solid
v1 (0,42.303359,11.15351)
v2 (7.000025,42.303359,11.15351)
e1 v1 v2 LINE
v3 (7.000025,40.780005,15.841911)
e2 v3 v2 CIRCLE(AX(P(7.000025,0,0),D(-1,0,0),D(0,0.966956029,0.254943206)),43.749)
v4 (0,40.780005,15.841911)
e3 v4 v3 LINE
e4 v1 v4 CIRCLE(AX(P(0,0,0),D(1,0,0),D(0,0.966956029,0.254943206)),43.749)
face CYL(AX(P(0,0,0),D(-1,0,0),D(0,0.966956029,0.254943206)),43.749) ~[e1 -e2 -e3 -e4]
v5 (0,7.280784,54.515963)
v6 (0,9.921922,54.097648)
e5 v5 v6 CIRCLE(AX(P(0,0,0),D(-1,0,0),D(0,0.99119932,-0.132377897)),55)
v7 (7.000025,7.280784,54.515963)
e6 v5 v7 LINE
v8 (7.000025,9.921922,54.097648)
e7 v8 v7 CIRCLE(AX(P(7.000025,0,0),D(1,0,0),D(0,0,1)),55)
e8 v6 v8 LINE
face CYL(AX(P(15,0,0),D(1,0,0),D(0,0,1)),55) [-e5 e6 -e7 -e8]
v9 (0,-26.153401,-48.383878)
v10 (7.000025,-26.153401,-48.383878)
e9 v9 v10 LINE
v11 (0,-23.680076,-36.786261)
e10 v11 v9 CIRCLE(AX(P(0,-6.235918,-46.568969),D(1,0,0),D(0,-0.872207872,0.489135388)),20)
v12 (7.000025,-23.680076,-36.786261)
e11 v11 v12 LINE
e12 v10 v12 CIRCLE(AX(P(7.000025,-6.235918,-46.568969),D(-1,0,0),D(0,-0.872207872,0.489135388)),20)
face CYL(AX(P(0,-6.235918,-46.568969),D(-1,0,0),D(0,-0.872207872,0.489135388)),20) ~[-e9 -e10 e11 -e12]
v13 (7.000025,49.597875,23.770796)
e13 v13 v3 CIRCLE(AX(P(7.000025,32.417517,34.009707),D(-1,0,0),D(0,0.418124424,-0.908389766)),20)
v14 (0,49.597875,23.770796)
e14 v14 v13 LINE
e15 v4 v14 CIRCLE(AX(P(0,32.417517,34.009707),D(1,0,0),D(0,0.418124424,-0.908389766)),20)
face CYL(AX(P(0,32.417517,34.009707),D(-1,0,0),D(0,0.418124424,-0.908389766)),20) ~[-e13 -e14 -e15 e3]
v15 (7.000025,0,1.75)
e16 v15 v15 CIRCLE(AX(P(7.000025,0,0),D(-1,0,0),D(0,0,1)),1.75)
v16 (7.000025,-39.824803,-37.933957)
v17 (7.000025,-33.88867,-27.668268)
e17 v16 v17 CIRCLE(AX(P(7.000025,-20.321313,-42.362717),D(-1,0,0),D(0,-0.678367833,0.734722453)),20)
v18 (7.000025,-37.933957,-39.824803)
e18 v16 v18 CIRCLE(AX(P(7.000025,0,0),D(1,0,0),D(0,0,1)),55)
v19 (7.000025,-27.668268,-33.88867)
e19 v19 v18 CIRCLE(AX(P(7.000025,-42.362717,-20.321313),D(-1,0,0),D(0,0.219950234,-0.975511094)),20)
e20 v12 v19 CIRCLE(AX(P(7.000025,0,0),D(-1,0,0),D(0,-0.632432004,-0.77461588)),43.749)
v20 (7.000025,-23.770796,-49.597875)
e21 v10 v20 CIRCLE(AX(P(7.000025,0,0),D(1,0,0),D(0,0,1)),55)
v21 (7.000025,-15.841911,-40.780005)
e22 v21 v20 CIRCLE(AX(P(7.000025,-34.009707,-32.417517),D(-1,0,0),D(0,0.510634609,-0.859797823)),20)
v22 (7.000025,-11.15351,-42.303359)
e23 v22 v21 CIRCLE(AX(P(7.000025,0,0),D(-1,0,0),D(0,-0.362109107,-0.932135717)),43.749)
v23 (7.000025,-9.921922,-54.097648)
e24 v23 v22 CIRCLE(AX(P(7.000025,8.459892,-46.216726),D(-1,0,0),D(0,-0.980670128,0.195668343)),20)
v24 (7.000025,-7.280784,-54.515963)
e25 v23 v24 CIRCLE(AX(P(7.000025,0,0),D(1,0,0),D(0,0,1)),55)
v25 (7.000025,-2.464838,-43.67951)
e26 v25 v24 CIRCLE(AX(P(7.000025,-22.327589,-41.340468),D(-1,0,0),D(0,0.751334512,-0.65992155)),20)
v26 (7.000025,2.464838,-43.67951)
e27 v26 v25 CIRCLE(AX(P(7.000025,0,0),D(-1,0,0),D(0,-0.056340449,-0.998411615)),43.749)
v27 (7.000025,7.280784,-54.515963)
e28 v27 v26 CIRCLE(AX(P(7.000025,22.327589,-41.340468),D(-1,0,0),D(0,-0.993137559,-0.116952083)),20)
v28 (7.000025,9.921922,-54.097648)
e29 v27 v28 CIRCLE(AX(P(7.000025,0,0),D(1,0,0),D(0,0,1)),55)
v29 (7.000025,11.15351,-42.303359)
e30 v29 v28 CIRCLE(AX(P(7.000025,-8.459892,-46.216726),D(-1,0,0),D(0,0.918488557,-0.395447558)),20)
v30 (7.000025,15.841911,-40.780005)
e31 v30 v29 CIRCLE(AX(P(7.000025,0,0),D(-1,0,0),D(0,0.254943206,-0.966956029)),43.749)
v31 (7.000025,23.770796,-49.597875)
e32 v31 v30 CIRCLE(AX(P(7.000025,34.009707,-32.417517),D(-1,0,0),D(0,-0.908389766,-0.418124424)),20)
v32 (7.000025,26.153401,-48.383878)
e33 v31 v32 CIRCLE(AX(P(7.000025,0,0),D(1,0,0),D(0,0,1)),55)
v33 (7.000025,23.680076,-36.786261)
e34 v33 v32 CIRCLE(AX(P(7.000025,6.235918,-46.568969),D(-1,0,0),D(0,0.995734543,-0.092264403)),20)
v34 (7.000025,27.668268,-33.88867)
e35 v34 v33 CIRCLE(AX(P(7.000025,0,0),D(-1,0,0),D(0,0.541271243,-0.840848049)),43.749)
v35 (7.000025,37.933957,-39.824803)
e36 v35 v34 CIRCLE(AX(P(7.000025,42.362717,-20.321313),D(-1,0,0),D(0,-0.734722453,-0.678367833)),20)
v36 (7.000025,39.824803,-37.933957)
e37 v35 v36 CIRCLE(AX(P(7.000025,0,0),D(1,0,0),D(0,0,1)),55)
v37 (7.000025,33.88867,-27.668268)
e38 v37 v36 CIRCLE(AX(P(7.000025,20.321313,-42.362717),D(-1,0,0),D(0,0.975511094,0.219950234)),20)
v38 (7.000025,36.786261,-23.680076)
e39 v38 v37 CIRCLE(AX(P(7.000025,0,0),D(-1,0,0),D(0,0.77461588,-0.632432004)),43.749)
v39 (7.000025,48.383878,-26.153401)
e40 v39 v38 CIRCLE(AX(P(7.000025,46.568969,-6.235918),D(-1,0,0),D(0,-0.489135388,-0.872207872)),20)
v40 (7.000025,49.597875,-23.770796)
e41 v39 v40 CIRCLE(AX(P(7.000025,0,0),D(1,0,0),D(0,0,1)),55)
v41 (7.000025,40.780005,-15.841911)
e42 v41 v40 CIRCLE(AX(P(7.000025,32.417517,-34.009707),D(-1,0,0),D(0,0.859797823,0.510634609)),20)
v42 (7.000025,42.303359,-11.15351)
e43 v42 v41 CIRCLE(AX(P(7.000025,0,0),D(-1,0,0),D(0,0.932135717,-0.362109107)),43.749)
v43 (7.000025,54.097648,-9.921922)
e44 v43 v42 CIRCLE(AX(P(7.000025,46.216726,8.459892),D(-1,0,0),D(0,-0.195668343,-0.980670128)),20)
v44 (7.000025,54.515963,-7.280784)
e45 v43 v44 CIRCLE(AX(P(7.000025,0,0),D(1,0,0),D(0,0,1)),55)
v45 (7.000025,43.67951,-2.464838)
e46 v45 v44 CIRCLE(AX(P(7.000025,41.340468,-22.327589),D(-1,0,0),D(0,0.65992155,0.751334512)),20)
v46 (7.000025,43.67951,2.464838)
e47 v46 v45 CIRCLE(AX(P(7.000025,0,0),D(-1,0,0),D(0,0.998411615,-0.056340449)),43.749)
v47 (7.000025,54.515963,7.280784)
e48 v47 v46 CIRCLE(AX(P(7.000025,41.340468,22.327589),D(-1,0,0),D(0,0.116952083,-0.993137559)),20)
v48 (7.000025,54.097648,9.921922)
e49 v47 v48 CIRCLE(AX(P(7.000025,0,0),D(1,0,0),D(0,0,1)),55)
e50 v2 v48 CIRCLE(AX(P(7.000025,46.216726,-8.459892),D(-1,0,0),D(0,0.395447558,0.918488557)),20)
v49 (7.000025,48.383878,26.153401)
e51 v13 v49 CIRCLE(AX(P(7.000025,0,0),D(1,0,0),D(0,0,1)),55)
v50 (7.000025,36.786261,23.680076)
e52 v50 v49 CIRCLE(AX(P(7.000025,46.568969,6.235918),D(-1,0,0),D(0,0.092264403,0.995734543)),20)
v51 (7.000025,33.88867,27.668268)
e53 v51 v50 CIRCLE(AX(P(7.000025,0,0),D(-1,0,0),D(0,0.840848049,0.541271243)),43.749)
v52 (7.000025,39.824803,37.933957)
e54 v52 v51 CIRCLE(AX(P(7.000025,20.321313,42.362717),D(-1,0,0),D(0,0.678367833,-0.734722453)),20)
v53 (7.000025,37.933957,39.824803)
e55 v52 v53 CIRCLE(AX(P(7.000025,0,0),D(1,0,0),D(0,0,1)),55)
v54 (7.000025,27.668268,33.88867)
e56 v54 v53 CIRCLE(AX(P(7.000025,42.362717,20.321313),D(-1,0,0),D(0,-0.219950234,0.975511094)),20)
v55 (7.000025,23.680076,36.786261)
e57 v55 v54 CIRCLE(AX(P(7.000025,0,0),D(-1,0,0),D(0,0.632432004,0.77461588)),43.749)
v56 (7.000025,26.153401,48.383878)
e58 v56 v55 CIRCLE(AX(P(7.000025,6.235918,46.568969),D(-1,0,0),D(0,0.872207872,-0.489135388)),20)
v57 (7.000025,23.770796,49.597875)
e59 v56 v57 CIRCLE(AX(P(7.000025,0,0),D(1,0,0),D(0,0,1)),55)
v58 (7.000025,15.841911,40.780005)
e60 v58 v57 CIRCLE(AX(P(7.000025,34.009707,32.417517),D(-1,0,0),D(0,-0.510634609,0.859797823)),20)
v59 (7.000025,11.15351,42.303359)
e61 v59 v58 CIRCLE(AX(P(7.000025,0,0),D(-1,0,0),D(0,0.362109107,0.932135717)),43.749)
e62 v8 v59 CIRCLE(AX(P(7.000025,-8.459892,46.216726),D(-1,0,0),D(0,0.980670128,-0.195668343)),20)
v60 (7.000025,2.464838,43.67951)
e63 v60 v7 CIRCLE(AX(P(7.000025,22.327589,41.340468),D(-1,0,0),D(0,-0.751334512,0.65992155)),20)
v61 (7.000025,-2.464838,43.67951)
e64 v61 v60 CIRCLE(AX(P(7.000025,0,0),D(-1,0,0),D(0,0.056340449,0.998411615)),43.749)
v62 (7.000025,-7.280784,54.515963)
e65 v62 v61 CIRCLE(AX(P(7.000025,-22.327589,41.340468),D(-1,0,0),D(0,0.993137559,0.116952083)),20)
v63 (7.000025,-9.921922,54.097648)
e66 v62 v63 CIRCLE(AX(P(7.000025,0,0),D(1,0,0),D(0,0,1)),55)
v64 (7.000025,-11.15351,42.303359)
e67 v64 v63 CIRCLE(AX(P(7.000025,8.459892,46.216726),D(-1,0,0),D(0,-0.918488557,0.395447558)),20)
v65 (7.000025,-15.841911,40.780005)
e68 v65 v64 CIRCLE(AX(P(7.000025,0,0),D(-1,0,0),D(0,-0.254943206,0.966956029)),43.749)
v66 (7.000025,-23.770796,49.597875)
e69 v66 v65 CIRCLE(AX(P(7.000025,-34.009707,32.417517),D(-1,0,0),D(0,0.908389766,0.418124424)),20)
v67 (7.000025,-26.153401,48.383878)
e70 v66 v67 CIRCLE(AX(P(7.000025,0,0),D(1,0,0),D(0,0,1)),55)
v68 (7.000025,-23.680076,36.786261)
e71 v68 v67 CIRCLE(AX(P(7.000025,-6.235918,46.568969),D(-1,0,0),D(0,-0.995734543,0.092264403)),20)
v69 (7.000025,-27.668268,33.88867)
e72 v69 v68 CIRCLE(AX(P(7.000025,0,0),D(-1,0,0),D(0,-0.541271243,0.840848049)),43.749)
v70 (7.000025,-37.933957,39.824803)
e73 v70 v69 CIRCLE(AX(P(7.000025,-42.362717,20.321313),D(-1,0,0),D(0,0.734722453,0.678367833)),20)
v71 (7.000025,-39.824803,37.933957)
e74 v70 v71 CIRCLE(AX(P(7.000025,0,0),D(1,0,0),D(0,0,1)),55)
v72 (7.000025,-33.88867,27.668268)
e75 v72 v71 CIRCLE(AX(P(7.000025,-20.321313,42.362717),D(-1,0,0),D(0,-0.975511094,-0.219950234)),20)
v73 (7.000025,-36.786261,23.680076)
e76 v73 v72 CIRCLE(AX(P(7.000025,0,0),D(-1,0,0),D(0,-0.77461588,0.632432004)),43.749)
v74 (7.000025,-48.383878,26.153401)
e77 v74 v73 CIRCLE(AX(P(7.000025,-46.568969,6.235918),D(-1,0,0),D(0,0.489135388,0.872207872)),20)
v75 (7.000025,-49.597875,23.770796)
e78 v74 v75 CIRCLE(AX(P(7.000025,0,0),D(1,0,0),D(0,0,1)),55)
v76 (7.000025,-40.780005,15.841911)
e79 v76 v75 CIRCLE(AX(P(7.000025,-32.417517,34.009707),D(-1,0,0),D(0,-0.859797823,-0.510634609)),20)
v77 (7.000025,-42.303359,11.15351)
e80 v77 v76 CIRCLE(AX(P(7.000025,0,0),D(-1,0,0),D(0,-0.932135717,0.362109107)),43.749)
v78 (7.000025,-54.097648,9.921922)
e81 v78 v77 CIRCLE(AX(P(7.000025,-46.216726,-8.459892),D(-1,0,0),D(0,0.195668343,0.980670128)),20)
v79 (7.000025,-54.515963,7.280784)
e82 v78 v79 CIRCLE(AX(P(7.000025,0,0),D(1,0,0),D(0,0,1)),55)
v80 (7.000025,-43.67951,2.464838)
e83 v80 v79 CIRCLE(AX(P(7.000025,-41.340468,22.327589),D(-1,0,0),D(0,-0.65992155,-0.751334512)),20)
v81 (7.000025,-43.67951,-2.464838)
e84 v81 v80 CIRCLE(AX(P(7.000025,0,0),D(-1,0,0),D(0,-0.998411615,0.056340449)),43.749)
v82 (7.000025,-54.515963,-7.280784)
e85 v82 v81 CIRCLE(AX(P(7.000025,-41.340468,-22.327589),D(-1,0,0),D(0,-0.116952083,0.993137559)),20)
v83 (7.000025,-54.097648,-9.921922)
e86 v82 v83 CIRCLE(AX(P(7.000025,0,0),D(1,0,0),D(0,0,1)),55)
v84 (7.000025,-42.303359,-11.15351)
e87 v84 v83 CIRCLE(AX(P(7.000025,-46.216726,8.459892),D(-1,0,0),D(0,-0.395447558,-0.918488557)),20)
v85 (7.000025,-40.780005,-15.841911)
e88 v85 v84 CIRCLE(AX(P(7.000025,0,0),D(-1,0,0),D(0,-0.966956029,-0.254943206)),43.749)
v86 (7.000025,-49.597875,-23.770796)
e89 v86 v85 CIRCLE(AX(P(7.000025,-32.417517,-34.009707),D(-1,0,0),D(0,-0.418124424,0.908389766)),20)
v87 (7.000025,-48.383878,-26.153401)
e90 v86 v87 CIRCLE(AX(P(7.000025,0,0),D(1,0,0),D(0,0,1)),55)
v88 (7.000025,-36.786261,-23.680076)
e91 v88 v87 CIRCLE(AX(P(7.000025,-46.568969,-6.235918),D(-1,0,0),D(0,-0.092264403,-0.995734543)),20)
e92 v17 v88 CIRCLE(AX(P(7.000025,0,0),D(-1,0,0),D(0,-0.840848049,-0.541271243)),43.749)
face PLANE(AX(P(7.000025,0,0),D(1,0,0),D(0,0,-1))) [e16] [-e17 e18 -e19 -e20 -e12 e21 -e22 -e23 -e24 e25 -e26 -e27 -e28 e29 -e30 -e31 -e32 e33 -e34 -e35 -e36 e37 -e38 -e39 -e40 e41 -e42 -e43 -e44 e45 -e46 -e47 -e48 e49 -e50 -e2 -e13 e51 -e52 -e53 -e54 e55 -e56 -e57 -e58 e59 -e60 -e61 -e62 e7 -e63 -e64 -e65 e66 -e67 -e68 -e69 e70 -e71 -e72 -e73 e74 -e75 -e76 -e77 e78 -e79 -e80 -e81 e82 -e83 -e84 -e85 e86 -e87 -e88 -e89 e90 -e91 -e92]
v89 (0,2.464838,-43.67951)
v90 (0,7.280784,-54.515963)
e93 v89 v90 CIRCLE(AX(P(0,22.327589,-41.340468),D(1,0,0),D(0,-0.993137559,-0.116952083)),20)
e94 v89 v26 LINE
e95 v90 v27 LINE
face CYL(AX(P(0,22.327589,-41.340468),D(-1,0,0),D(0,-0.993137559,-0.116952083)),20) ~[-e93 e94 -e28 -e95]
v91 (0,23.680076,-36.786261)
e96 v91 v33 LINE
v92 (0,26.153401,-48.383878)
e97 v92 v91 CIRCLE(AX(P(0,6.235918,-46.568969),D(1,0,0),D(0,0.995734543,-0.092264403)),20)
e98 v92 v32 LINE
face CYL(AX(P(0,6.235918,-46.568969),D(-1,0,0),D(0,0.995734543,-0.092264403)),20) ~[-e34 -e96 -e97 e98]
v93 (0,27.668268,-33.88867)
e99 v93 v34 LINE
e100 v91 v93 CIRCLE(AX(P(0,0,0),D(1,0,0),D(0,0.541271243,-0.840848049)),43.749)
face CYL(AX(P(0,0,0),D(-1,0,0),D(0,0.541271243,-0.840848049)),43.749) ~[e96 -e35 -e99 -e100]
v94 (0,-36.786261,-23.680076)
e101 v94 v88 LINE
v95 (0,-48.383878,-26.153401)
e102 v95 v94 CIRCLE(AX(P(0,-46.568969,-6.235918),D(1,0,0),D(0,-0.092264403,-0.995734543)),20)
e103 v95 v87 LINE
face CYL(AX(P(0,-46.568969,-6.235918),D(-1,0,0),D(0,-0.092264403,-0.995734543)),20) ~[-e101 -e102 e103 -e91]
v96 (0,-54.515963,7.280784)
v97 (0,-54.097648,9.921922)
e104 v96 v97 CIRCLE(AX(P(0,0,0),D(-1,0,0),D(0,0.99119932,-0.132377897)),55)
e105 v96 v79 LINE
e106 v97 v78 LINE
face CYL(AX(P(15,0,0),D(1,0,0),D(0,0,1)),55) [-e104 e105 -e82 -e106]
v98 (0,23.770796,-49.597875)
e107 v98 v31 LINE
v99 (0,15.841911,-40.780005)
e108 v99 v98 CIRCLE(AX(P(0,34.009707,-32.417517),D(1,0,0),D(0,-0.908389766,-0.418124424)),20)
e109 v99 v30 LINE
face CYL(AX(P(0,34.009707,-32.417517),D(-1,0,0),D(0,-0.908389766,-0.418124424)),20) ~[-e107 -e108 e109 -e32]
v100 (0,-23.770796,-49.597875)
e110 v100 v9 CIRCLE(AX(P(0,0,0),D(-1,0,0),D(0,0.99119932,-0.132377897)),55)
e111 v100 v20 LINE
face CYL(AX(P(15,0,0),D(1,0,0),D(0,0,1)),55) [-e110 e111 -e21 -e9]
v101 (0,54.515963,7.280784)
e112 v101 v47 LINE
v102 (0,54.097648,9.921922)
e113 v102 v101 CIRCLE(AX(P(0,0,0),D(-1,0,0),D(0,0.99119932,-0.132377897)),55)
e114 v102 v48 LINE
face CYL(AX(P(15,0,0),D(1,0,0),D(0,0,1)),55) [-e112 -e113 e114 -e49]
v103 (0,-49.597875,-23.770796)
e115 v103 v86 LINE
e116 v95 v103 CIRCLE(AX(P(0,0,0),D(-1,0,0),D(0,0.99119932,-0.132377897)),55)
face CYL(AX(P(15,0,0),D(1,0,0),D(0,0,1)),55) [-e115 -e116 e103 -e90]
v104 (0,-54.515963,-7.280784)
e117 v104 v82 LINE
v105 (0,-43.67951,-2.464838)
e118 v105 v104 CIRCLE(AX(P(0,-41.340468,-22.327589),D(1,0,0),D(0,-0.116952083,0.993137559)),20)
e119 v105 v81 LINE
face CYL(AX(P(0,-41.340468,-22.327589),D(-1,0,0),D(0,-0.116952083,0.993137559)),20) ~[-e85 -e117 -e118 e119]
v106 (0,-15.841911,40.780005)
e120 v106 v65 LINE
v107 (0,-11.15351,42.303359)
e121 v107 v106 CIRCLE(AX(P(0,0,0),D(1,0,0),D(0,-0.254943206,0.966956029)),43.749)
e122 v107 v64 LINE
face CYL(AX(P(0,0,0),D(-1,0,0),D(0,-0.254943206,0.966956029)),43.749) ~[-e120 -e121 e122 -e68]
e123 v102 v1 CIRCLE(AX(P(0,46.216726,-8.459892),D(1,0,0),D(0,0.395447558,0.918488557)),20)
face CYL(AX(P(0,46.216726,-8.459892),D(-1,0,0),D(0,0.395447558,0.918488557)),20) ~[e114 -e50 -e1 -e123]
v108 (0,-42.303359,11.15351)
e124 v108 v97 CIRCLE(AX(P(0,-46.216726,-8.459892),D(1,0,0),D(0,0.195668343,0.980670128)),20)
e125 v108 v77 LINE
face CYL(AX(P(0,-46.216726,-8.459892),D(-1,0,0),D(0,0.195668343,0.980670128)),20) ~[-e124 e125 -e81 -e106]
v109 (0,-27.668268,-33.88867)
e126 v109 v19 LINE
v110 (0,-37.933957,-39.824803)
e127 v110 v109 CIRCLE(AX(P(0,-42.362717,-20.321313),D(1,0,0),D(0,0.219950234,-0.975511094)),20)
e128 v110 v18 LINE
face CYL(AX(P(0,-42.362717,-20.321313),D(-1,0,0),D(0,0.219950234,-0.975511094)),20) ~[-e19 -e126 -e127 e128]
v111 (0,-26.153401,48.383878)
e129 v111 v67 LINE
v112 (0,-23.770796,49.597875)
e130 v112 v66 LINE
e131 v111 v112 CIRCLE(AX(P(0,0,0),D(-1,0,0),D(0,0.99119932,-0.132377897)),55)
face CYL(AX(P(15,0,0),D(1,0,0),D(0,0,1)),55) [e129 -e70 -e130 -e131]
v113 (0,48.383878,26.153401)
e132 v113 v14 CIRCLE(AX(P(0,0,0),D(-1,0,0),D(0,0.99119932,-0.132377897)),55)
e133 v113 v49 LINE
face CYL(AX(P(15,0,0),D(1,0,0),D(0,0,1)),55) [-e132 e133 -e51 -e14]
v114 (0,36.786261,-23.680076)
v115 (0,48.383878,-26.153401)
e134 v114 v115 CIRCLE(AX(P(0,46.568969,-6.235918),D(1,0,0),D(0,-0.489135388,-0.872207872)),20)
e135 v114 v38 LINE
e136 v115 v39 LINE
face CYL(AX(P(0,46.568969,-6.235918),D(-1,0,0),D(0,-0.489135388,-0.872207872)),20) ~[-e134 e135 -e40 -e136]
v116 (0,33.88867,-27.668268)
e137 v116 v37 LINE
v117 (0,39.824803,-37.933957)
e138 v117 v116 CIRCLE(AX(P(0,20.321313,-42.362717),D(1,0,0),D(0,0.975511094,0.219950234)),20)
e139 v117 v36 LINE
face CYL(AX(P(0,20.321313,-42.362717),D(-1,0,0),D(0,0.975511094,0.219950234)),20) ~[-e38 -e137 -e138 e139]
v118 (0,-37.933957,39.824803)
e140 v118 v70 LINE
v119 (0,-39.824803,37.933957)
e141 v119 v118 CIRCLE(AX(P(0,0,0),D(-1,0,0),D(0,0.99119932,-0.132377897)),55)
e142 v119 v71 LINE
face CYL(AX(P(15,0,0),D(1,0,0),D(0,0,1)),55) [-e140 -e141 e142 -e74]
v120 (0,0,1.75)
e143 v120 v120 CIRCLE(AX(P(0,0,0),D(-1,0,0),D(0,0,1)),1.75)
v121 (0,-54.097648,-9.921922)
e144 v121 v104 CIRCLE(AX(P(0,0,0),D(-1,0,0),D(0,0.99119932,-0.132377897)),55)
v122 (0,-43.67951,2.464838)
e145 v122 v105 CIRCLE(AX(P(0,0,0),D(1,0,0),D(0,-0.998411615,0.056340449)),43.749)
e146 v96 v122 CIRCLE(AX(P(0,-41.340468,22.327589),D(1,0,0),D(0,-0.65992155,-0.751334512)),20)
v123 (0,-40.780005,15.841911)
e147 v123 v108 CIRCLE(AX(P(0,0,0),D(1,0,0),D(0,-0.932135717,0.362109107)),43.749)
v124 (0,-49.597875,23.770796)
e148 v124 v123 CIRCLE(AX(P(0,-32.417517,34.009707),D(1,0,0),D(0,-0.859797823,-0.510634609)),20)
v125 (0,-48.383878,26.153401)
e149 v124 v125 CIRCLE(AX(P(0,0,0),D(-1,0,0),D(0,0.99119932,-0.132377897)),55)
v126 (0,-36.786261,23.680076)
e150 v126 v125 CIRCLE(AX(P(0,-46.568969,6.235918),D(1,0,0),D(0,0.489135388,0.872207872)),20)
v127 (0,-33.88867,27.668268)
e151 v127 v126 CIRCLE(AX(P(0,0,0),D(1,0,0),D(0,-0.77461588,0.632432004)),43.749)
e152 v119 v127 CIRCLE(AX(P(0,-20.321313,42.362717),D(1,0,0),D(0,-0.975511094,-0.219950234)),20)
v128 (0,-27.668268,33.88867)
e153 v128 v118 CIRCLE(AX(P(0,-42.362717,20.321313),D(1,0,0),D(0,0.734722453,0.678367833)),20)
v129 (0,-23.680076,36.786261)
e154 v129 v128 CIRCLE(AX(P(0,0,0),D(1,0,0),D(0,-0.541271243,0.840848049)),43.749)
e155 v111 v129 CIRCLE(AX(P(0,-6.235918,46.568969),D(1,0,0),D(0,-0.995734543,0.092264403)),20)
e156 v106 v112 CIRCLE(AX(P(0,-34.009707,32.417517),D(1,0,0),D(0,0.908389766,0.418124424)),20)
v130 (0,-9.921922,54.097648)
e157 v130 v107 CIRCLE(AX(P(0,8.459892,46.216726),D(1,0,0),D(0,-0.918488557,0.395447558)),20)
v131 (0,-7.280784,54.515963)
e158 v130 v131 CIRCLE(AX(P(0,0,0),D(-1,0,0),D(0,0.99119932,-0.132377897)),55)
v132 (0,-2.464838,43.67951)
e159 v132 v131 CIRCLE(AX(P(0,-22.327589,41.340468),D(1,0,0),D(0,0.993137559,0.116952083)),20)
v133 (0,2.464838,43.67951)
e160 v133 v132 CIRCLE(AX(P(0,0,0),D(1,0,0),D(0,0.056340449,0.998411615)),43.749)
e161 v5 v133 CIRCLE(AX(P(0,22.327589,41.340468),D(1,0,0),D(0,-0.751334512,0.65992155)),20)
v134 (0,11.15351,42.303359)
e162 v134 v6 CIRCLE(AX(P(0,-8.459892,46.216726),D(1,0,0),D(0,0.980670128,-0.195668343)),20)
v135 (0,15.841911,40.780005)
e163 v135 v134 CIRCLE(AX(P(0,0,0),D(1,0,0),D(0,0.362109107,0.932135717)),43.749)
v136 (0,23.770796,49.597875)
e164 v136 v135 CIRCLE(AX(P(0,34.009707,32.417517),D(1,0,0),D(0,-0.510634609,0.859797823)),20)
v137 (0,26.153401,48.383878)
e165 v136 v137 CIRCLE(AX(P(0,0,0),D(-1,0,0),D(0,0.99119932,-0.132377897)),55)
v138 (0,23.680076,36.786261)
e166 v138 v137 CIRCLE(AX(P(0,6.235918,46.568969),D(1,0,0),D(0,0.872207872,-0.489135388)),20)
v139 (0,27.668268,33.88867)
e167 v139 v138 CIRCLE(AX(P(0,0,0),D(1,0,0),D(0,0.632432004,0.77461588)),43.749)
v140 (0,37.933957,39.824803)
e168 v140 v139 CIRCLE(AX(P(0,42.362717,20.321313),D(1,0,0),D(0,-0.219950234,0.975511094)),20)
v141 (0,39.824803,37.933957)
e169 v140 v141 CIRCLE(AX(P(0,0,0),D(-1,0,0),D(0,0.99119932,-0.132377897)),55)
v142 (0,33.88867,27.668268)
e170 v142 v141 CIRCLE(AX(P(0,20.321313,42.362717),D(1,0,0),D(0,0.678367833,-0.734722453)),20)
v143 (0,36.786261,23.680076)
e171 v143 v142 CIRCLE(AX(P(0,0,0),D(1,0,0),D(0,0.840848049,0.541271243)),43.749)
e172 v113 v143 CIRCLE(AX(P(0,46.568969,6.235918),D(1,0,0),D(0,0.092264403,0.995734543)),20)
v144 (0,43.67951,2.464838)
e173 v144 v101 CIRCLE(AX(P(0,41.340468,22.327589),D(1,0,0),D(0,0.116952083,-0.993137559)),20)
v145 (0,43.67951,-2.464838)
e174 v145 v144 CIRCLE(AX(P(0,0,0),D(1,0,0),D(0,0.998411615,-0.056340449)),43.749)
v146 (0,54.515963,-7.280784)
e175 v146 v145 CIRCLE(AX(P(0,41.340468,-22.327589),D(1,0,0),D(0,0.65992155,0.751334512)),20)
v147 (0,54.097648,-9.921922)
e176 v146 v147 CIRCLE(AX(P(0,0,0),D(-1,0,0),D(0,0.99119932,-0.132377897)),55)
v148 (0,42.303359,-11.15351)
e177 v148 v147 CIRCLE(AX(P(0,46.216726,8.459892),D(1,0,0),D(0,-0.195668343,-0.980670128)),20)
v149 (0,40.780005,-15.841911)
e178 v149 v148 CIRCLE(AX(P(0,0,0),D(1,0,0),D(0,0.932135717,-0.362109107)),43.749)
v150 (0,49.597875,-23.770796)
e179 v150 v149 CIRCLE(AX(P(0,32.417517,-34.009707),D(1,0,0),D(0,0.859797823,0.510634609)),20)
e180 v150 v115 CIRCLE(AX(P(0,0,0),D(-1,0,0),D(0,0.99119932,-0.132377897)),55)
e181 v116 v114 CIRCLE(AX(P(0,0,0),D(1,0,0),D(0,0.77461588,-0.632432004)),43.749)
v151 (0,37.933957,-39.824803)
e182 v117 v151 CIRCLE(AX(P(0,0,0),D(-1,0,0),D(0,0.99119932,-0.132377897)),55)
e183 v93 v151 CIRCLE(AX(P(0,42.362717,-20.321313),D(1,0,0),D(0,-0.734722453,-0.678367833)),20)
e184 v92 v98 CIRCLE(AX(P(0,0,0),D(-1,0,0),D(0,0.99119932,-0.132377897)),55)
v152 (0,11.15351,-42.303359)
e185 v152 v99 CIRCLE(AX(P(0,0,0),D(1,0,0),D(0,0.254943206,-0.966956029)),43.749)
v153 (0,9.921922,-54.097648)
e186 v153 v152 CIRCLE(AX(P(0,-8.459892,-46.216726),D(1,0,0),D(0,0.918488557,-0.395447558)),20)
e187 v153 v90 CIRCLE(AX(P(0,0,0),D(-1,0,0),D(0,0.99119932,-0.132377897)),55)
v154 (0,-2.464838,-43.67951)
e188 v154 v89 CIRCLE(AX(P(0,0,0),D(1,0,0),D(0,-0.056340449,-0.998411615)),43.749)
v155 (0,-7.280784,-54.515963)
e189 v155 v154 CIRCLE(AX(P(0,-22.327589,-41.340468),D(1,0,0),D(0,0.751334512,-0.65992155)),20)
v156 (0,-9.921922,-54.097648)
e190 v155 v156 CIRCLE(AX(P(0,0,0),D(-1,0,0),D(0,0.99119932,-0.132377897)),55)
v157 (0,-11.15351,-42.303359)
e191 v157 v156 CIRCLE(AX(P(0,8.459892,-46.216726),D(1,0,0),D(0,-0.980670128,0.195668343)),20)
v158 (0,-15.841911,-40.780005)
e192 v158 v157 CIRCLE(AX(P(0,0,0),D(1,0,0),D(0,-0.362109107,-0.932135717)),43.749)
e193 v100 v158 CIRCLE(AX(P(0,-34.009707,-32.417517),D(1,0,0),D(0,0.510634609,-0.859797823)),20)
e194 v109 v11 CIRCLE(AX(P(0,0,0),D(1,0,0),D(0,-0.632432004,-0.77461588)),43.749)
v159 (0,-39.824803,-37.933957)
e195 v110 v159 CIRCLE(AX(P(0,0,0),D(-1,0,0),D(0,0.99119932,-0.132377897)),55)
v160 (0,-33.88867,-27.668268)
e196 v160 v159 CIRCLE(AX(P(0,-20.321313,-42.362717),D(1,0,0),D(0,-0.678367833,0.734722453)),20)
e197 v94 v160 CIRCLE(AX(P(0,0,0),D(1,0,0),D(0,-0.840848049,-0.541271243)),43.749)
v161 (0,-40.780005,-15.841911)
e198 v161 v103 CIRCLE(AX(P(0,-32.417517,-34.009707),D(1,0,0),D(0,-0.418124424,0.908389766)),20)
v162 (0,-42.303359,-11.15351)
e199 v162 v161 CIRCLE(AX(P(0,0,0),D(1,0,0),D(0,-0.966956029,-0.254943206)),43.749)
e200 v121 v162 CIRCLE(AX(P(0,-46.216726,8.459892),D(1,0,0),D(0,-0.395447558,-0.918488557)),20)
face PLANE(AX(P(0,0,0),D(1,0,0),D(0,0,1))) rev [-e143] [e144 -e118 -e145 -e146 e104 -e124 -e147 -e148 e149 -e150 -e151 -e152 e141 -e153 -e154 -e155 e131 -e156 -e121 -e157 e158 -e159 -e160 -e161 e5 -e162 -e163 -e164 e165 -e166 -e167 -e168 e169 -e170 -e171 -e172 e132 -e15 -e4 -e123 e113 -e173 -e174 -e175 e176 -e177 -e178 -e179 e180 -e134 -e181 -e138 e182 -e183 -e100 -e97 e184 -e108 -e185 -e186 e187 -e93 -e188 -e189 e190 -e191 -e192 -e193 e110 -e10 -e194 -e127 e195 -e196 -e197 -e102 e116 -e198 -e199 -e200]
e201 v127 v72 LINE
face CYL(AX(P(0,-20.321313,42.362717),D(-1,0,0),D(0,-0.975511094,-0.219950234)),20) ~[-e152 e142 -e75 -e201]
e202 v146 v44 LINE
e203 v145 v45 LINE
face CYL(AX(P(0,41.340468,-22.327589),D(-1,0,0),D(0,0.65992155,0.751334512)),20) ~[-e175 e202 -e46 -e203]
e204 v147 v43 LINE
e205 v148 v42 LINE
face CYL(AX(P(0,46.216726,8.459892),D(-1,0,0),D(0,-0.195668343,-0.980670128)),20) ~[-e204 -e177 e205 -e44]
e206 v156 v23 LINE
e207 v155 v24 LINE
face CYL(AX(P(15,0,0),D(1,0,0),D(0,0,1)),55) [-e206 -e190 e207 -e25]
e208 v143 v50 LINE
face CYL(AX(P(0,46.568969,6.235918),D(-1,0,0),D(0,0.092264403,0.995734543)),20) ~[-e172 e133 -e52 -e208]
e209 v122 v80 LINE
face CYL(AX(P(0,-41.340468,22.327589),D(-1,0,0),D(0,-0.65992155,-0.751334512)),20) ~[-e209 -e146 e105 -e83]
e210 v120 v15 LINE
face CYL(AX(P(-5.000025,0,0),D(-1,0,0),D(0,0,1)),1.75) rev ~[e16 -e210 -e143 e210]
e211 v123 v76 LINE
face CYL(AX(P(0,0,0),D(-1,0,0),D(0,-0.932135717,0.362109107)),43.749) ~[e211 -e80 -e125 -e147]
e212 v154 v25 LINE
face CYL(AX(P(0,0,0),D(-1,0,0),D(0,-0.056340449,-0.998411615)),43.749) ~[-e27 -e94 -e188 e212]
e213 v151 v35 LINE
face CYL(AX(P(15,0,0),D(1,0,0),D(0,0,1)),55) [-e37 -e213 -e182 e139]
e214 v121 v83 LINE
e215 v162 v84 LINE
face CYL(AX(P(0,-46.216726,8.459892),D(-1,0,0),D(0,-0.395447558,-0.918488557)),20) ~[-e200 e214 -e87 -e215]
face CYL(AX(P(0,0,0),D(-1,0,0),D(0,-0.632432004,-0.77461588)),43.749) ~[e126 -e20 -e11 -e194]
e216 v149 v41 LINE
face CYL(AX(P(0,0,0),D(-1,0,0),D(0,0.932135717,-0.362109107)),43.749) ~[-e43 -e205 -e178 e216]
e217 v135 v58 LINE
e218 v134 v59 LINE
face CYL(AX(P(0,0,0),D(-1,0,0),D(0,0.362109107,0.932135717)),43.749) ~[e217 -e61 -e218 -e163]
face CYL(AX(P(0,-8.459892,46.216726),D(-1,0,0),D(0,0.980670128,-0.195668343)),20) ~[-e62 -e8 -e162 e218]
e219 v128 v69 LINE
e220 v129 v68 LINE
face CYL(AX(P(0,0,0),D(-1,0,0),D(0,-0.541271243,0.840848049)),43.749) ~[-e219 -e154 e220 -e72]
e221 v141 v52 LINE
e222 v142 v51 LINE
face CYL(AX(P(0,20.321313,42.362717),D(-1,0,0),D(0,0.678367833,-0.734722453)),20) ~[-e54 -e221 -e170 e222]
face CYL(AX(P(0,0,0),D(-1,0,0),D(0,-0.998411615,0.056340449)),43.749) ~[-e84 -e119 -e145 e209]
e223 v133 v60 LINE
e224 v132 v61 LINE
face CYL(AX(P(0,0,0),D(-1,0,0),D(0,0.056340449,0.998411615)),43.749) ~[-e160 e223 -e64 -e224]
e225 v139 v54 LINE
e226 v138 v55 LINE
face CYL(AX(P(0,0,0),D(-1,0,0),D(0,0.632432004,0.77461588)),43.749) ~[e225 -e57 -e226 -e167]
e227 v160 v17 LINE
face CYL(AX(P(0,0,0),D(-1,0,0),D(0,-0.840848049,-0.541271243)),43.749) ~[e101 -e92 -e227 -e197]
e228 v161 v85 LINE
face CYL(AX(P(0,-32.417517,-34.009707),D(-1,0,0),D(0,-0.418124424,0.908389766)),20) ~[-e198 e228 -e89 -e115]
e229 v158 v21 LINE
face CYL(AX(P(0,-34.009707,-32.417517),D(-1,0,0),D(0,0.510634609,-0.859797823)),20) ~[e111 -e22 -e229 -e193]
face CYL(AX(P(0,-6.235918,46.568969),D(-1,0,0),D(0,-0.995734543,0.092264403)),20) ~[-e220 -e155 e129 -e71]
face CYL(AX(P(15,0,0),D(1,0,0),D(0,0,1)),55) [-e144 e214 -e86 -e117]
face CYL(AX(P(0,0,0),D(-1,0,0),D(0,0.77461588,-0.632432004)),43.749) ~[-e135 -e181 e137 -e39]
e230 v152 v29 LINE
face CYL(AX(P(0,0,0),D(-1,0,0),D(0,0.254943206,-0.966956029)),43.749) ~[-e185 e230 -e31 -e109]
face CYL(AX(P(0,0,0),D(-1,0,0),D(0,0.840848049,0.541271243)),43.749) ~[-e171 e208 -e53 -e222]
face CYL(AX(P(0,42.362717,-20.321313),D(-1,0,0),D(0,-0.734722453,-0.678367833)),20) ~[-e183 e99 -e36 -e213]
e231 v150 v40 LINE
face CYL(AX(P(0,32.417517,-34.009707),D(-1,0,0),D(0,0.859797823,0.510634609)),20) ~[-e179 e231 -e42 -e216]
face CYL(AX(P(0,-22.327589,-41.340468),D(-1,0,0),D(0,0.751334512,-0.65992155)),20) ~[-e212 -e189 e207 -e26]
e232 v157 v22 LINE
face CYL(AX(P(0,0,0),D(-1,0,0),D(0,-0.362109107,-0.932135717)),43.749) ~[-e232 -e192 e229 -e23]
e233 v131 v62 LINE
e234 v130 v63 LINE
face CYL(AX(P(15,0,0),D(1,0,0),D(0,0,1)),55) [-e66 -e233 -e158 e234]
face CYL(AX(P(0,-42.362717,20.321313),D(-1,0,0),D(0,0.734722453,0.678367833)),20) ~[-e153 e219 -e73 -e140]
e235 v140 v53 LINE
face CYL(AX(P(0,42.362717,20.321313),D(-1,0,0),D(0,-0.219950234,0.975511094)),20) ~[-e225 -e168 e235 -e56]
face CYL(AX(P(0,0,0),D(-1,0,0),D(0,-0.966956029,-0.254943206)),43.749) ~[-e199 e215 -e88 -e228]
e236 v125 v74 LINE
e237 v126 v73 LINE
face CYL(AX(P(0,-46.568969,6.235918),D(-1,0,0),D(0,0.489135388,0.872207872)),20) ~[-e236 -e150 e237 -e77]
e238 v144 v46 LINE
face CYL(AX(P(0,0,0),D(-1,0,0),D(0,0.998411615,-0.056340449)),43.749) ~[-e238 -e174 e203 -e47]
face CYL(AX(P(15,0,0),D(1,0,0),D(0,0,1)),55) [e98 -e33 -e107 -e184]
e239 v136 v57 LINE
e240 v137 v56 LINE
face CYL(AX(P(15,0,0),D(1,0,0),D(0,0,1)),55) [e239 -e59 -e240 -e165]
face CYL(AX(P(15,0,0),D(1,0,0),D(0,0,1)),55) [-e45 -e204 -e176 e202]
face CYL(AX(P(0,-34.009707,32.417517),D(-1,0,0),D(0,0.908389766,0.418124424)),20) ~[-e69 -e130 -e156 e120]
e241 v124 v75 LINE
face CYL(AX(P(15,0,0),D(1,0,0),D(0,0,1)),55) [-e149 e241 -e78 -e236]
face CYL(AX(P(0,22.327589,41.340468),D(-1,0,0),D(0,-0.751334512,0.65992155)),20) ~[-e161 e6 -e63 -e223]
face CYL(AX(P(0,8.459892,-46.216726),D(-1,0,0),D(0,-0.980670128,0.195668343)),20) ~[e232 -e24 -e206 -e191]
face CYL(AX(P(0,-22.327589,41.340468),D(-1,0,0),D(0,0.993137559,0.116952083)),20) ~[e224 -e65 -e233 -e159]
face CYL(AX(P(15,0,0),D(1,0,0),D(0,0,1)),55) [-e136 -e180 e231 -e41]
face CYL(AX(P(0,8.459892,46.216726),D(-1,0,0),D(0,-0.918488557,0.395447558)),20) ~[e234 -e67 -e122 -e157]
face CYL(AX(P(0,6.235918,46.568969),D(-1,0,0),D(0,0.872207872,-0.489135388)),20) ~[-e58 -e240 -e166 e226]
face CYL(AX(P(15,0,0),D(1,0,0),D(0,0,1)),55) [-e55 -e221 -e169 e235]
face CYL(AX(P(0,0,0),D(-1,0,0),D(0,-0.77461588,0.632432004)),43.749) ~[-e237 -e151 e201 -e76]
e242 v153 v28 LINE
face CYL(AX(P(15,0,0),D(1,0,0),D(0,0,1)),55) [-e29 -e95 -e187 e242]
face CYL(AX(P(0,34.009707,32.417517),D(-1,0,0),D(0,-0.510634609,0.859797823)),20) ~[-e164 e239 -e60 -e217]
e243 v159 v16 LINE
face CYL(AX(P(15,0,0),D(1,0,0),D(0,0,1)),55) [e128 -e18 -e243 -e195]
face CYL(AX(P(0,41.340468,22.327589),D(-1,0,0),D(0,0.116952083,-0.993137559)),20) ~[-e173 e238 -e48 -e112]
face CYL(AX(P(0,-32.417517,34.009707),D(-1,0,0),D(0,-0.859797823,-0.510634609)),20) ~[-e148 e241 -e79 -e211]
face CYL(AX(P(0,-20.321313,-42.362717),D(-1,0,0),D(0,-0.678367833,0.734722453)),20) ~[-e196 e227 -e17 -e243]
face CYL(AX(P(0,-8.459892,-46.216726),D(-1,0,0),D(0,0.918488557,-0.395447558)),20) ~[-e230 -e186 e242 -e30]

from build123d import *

# Parameters (mm, degrees)
BASPROSKE_W         = 30
BASPROSKE_H         = 55
TOOTHCUT_DEPTH      = 84.366660003
TEETHCUTS_COUNT     = 20
TEETHCUTS_ANGLE     = 342
HUBNEABOTSKE_R      = 12.5
HUBNEARBOTH_DEPTH   = 5.0000254
HUBFAR_START        = 5.0000254
HUBFARSKE_R         = 12.5
HUBFAR_DEPTH        = 5.0000254
BORSKE_R            = 5
BORE_DEPTH          = 40.0000508
SKETCH1_R           = 7
SKETCH1_R_2         = 1.75
BOSS_EXTRUDE1_DEPTH = 40.0000508
SKETCH2_R           = 61.585306659
CUT_EXTRUDE1_DEPTH  = 28
SKETCH3_R           = 13.575984162
CUT_EXTRUDE4_DEPTH  = 5.0000254


with BuildPart() as part:
    # BasProSke → Base-Revolve (revolve)
    with BuildSketch(Plane(origin=(0, 0, 0), x_dir=(1, 0, 0), z_dir=(0, 1, 0)), mode=Mode.PRIVATE) as base_revolve_sk:
        with Locations((15, 27.5)):
            Rectangle(BASPROSKE_W, BASPROSKE_H)
    revolve(base_revolve_sk.sketch.rotate(Axis((-10, 0, 0), (1, 0, 0)), 180), axis=Axis((-10, 0, 0), (1, 0, 0)))

    # TooCutSke → ToothCut (cut, through all)
    with BuildSketch(Plane(origin=(0, 0, 0), x_dir=(0, 0, -1), z_dir=(1, 0, 0))):
        with BuildLine():
            ThreePointArc((2.464838288, 43.679509764), (0, 43.749), (-2.464838288, 43.679509764))
            ThreePointArc((-2.464838288, 43.679509764), (-4.057398861, 49.476814676), (-7.300899231, 54.538899105))
            ThreePointArc((-7.300899231, 54.538899105), (0, 55.0254), (7.300899231, 54.538899105))
            ThreePointArc((7.300899231, 54.538899105), (4.057398861, 49.476814676), (2.464838288, 43.679509764))
        make_face()
    toothcut = extrude(amount=TOOTHCUT_DEPTH, mode=Mode.SUBTRACT)

    # TeethCuts: ToothCut ×20 about axis
    teethcuts_axis = Axis((-10, 0, 0), (1, 0, 0))
    for i in range(1, TEETHCUTS_COUNT):
        add(toothcut.rotate(teethcuts_axis, i * TEETHCUTS_ANGLE / (TEETHCUTS_COUNT - 1)), mode=Mode.SUBTRACT)

    # HubNeaBotSke → HubNearBoth (add)
    with BuildSketch(Plane.ZY):
        with Locations(Location((0, 0, 0), (0, 0, 180))):
            Circle(HUBNEABOTSKE_R)
    extrude(amount=HUBNEARBOTH_DEPTH)

    # HubFarSke → HubFar (add)
    with BuildSketch(Plane(origin=(30, 0, 0), x_dir=(0, 0, -1), z_dir=(1, 0, 0)).offset(HUBFAR_START)):
        Circle(HUBFARSKE_R)
    extrude(amount=-HUBFAR_DEPTH)

    # BorSke → Bore (cut, symmetric)
    with BuildSketch(Plane(origin=(0, 0, 0), x_dir=(0, 0, -1), z_dir=(1, 0, 0))):
        with Locations(Location((0, 0, 0), (0, 0, 180))):
            Circle(BORSKE_R)
    extrude(amount=BORE_DEPTH, both=True, mode=Mode.SUBTRACT)

    # Sketch1 → Boss-Extrude1 (add)
    with BuildSketch(Plane.ZY.offset(5.0000254)):
        Circle(SKETCH1_R)
        Circle(SKETCH1_R_2, mode=Mode.SUBTRACT)
    extrude(amount=-BOSS_EXTRUDE1_DEPTH)

    # Sketch2 → Cut-Extrude1 (cut)
    with BuildSketch(Plane(origin=(35.0000254, 0, 0), x_dir=(0, 0, -1), z_dir=(1, 0, 0))):
        Circle(SKETCH2_R)
    extrude(amount=-CUT_EXTRUDE1_DEPTH, mode=Mode.SUBTRACT)

    # Sketch3 → Cut-Extrude4 (cut)
    with BuildSketch(Plane.ZY.offset(5.0000254)):
        Circle(SKETCH3_R)
    extrude(amount=-CUT_EXTRUDE4_DEPTH, mode=Mode.SUBTRACT)


solid = part.part
